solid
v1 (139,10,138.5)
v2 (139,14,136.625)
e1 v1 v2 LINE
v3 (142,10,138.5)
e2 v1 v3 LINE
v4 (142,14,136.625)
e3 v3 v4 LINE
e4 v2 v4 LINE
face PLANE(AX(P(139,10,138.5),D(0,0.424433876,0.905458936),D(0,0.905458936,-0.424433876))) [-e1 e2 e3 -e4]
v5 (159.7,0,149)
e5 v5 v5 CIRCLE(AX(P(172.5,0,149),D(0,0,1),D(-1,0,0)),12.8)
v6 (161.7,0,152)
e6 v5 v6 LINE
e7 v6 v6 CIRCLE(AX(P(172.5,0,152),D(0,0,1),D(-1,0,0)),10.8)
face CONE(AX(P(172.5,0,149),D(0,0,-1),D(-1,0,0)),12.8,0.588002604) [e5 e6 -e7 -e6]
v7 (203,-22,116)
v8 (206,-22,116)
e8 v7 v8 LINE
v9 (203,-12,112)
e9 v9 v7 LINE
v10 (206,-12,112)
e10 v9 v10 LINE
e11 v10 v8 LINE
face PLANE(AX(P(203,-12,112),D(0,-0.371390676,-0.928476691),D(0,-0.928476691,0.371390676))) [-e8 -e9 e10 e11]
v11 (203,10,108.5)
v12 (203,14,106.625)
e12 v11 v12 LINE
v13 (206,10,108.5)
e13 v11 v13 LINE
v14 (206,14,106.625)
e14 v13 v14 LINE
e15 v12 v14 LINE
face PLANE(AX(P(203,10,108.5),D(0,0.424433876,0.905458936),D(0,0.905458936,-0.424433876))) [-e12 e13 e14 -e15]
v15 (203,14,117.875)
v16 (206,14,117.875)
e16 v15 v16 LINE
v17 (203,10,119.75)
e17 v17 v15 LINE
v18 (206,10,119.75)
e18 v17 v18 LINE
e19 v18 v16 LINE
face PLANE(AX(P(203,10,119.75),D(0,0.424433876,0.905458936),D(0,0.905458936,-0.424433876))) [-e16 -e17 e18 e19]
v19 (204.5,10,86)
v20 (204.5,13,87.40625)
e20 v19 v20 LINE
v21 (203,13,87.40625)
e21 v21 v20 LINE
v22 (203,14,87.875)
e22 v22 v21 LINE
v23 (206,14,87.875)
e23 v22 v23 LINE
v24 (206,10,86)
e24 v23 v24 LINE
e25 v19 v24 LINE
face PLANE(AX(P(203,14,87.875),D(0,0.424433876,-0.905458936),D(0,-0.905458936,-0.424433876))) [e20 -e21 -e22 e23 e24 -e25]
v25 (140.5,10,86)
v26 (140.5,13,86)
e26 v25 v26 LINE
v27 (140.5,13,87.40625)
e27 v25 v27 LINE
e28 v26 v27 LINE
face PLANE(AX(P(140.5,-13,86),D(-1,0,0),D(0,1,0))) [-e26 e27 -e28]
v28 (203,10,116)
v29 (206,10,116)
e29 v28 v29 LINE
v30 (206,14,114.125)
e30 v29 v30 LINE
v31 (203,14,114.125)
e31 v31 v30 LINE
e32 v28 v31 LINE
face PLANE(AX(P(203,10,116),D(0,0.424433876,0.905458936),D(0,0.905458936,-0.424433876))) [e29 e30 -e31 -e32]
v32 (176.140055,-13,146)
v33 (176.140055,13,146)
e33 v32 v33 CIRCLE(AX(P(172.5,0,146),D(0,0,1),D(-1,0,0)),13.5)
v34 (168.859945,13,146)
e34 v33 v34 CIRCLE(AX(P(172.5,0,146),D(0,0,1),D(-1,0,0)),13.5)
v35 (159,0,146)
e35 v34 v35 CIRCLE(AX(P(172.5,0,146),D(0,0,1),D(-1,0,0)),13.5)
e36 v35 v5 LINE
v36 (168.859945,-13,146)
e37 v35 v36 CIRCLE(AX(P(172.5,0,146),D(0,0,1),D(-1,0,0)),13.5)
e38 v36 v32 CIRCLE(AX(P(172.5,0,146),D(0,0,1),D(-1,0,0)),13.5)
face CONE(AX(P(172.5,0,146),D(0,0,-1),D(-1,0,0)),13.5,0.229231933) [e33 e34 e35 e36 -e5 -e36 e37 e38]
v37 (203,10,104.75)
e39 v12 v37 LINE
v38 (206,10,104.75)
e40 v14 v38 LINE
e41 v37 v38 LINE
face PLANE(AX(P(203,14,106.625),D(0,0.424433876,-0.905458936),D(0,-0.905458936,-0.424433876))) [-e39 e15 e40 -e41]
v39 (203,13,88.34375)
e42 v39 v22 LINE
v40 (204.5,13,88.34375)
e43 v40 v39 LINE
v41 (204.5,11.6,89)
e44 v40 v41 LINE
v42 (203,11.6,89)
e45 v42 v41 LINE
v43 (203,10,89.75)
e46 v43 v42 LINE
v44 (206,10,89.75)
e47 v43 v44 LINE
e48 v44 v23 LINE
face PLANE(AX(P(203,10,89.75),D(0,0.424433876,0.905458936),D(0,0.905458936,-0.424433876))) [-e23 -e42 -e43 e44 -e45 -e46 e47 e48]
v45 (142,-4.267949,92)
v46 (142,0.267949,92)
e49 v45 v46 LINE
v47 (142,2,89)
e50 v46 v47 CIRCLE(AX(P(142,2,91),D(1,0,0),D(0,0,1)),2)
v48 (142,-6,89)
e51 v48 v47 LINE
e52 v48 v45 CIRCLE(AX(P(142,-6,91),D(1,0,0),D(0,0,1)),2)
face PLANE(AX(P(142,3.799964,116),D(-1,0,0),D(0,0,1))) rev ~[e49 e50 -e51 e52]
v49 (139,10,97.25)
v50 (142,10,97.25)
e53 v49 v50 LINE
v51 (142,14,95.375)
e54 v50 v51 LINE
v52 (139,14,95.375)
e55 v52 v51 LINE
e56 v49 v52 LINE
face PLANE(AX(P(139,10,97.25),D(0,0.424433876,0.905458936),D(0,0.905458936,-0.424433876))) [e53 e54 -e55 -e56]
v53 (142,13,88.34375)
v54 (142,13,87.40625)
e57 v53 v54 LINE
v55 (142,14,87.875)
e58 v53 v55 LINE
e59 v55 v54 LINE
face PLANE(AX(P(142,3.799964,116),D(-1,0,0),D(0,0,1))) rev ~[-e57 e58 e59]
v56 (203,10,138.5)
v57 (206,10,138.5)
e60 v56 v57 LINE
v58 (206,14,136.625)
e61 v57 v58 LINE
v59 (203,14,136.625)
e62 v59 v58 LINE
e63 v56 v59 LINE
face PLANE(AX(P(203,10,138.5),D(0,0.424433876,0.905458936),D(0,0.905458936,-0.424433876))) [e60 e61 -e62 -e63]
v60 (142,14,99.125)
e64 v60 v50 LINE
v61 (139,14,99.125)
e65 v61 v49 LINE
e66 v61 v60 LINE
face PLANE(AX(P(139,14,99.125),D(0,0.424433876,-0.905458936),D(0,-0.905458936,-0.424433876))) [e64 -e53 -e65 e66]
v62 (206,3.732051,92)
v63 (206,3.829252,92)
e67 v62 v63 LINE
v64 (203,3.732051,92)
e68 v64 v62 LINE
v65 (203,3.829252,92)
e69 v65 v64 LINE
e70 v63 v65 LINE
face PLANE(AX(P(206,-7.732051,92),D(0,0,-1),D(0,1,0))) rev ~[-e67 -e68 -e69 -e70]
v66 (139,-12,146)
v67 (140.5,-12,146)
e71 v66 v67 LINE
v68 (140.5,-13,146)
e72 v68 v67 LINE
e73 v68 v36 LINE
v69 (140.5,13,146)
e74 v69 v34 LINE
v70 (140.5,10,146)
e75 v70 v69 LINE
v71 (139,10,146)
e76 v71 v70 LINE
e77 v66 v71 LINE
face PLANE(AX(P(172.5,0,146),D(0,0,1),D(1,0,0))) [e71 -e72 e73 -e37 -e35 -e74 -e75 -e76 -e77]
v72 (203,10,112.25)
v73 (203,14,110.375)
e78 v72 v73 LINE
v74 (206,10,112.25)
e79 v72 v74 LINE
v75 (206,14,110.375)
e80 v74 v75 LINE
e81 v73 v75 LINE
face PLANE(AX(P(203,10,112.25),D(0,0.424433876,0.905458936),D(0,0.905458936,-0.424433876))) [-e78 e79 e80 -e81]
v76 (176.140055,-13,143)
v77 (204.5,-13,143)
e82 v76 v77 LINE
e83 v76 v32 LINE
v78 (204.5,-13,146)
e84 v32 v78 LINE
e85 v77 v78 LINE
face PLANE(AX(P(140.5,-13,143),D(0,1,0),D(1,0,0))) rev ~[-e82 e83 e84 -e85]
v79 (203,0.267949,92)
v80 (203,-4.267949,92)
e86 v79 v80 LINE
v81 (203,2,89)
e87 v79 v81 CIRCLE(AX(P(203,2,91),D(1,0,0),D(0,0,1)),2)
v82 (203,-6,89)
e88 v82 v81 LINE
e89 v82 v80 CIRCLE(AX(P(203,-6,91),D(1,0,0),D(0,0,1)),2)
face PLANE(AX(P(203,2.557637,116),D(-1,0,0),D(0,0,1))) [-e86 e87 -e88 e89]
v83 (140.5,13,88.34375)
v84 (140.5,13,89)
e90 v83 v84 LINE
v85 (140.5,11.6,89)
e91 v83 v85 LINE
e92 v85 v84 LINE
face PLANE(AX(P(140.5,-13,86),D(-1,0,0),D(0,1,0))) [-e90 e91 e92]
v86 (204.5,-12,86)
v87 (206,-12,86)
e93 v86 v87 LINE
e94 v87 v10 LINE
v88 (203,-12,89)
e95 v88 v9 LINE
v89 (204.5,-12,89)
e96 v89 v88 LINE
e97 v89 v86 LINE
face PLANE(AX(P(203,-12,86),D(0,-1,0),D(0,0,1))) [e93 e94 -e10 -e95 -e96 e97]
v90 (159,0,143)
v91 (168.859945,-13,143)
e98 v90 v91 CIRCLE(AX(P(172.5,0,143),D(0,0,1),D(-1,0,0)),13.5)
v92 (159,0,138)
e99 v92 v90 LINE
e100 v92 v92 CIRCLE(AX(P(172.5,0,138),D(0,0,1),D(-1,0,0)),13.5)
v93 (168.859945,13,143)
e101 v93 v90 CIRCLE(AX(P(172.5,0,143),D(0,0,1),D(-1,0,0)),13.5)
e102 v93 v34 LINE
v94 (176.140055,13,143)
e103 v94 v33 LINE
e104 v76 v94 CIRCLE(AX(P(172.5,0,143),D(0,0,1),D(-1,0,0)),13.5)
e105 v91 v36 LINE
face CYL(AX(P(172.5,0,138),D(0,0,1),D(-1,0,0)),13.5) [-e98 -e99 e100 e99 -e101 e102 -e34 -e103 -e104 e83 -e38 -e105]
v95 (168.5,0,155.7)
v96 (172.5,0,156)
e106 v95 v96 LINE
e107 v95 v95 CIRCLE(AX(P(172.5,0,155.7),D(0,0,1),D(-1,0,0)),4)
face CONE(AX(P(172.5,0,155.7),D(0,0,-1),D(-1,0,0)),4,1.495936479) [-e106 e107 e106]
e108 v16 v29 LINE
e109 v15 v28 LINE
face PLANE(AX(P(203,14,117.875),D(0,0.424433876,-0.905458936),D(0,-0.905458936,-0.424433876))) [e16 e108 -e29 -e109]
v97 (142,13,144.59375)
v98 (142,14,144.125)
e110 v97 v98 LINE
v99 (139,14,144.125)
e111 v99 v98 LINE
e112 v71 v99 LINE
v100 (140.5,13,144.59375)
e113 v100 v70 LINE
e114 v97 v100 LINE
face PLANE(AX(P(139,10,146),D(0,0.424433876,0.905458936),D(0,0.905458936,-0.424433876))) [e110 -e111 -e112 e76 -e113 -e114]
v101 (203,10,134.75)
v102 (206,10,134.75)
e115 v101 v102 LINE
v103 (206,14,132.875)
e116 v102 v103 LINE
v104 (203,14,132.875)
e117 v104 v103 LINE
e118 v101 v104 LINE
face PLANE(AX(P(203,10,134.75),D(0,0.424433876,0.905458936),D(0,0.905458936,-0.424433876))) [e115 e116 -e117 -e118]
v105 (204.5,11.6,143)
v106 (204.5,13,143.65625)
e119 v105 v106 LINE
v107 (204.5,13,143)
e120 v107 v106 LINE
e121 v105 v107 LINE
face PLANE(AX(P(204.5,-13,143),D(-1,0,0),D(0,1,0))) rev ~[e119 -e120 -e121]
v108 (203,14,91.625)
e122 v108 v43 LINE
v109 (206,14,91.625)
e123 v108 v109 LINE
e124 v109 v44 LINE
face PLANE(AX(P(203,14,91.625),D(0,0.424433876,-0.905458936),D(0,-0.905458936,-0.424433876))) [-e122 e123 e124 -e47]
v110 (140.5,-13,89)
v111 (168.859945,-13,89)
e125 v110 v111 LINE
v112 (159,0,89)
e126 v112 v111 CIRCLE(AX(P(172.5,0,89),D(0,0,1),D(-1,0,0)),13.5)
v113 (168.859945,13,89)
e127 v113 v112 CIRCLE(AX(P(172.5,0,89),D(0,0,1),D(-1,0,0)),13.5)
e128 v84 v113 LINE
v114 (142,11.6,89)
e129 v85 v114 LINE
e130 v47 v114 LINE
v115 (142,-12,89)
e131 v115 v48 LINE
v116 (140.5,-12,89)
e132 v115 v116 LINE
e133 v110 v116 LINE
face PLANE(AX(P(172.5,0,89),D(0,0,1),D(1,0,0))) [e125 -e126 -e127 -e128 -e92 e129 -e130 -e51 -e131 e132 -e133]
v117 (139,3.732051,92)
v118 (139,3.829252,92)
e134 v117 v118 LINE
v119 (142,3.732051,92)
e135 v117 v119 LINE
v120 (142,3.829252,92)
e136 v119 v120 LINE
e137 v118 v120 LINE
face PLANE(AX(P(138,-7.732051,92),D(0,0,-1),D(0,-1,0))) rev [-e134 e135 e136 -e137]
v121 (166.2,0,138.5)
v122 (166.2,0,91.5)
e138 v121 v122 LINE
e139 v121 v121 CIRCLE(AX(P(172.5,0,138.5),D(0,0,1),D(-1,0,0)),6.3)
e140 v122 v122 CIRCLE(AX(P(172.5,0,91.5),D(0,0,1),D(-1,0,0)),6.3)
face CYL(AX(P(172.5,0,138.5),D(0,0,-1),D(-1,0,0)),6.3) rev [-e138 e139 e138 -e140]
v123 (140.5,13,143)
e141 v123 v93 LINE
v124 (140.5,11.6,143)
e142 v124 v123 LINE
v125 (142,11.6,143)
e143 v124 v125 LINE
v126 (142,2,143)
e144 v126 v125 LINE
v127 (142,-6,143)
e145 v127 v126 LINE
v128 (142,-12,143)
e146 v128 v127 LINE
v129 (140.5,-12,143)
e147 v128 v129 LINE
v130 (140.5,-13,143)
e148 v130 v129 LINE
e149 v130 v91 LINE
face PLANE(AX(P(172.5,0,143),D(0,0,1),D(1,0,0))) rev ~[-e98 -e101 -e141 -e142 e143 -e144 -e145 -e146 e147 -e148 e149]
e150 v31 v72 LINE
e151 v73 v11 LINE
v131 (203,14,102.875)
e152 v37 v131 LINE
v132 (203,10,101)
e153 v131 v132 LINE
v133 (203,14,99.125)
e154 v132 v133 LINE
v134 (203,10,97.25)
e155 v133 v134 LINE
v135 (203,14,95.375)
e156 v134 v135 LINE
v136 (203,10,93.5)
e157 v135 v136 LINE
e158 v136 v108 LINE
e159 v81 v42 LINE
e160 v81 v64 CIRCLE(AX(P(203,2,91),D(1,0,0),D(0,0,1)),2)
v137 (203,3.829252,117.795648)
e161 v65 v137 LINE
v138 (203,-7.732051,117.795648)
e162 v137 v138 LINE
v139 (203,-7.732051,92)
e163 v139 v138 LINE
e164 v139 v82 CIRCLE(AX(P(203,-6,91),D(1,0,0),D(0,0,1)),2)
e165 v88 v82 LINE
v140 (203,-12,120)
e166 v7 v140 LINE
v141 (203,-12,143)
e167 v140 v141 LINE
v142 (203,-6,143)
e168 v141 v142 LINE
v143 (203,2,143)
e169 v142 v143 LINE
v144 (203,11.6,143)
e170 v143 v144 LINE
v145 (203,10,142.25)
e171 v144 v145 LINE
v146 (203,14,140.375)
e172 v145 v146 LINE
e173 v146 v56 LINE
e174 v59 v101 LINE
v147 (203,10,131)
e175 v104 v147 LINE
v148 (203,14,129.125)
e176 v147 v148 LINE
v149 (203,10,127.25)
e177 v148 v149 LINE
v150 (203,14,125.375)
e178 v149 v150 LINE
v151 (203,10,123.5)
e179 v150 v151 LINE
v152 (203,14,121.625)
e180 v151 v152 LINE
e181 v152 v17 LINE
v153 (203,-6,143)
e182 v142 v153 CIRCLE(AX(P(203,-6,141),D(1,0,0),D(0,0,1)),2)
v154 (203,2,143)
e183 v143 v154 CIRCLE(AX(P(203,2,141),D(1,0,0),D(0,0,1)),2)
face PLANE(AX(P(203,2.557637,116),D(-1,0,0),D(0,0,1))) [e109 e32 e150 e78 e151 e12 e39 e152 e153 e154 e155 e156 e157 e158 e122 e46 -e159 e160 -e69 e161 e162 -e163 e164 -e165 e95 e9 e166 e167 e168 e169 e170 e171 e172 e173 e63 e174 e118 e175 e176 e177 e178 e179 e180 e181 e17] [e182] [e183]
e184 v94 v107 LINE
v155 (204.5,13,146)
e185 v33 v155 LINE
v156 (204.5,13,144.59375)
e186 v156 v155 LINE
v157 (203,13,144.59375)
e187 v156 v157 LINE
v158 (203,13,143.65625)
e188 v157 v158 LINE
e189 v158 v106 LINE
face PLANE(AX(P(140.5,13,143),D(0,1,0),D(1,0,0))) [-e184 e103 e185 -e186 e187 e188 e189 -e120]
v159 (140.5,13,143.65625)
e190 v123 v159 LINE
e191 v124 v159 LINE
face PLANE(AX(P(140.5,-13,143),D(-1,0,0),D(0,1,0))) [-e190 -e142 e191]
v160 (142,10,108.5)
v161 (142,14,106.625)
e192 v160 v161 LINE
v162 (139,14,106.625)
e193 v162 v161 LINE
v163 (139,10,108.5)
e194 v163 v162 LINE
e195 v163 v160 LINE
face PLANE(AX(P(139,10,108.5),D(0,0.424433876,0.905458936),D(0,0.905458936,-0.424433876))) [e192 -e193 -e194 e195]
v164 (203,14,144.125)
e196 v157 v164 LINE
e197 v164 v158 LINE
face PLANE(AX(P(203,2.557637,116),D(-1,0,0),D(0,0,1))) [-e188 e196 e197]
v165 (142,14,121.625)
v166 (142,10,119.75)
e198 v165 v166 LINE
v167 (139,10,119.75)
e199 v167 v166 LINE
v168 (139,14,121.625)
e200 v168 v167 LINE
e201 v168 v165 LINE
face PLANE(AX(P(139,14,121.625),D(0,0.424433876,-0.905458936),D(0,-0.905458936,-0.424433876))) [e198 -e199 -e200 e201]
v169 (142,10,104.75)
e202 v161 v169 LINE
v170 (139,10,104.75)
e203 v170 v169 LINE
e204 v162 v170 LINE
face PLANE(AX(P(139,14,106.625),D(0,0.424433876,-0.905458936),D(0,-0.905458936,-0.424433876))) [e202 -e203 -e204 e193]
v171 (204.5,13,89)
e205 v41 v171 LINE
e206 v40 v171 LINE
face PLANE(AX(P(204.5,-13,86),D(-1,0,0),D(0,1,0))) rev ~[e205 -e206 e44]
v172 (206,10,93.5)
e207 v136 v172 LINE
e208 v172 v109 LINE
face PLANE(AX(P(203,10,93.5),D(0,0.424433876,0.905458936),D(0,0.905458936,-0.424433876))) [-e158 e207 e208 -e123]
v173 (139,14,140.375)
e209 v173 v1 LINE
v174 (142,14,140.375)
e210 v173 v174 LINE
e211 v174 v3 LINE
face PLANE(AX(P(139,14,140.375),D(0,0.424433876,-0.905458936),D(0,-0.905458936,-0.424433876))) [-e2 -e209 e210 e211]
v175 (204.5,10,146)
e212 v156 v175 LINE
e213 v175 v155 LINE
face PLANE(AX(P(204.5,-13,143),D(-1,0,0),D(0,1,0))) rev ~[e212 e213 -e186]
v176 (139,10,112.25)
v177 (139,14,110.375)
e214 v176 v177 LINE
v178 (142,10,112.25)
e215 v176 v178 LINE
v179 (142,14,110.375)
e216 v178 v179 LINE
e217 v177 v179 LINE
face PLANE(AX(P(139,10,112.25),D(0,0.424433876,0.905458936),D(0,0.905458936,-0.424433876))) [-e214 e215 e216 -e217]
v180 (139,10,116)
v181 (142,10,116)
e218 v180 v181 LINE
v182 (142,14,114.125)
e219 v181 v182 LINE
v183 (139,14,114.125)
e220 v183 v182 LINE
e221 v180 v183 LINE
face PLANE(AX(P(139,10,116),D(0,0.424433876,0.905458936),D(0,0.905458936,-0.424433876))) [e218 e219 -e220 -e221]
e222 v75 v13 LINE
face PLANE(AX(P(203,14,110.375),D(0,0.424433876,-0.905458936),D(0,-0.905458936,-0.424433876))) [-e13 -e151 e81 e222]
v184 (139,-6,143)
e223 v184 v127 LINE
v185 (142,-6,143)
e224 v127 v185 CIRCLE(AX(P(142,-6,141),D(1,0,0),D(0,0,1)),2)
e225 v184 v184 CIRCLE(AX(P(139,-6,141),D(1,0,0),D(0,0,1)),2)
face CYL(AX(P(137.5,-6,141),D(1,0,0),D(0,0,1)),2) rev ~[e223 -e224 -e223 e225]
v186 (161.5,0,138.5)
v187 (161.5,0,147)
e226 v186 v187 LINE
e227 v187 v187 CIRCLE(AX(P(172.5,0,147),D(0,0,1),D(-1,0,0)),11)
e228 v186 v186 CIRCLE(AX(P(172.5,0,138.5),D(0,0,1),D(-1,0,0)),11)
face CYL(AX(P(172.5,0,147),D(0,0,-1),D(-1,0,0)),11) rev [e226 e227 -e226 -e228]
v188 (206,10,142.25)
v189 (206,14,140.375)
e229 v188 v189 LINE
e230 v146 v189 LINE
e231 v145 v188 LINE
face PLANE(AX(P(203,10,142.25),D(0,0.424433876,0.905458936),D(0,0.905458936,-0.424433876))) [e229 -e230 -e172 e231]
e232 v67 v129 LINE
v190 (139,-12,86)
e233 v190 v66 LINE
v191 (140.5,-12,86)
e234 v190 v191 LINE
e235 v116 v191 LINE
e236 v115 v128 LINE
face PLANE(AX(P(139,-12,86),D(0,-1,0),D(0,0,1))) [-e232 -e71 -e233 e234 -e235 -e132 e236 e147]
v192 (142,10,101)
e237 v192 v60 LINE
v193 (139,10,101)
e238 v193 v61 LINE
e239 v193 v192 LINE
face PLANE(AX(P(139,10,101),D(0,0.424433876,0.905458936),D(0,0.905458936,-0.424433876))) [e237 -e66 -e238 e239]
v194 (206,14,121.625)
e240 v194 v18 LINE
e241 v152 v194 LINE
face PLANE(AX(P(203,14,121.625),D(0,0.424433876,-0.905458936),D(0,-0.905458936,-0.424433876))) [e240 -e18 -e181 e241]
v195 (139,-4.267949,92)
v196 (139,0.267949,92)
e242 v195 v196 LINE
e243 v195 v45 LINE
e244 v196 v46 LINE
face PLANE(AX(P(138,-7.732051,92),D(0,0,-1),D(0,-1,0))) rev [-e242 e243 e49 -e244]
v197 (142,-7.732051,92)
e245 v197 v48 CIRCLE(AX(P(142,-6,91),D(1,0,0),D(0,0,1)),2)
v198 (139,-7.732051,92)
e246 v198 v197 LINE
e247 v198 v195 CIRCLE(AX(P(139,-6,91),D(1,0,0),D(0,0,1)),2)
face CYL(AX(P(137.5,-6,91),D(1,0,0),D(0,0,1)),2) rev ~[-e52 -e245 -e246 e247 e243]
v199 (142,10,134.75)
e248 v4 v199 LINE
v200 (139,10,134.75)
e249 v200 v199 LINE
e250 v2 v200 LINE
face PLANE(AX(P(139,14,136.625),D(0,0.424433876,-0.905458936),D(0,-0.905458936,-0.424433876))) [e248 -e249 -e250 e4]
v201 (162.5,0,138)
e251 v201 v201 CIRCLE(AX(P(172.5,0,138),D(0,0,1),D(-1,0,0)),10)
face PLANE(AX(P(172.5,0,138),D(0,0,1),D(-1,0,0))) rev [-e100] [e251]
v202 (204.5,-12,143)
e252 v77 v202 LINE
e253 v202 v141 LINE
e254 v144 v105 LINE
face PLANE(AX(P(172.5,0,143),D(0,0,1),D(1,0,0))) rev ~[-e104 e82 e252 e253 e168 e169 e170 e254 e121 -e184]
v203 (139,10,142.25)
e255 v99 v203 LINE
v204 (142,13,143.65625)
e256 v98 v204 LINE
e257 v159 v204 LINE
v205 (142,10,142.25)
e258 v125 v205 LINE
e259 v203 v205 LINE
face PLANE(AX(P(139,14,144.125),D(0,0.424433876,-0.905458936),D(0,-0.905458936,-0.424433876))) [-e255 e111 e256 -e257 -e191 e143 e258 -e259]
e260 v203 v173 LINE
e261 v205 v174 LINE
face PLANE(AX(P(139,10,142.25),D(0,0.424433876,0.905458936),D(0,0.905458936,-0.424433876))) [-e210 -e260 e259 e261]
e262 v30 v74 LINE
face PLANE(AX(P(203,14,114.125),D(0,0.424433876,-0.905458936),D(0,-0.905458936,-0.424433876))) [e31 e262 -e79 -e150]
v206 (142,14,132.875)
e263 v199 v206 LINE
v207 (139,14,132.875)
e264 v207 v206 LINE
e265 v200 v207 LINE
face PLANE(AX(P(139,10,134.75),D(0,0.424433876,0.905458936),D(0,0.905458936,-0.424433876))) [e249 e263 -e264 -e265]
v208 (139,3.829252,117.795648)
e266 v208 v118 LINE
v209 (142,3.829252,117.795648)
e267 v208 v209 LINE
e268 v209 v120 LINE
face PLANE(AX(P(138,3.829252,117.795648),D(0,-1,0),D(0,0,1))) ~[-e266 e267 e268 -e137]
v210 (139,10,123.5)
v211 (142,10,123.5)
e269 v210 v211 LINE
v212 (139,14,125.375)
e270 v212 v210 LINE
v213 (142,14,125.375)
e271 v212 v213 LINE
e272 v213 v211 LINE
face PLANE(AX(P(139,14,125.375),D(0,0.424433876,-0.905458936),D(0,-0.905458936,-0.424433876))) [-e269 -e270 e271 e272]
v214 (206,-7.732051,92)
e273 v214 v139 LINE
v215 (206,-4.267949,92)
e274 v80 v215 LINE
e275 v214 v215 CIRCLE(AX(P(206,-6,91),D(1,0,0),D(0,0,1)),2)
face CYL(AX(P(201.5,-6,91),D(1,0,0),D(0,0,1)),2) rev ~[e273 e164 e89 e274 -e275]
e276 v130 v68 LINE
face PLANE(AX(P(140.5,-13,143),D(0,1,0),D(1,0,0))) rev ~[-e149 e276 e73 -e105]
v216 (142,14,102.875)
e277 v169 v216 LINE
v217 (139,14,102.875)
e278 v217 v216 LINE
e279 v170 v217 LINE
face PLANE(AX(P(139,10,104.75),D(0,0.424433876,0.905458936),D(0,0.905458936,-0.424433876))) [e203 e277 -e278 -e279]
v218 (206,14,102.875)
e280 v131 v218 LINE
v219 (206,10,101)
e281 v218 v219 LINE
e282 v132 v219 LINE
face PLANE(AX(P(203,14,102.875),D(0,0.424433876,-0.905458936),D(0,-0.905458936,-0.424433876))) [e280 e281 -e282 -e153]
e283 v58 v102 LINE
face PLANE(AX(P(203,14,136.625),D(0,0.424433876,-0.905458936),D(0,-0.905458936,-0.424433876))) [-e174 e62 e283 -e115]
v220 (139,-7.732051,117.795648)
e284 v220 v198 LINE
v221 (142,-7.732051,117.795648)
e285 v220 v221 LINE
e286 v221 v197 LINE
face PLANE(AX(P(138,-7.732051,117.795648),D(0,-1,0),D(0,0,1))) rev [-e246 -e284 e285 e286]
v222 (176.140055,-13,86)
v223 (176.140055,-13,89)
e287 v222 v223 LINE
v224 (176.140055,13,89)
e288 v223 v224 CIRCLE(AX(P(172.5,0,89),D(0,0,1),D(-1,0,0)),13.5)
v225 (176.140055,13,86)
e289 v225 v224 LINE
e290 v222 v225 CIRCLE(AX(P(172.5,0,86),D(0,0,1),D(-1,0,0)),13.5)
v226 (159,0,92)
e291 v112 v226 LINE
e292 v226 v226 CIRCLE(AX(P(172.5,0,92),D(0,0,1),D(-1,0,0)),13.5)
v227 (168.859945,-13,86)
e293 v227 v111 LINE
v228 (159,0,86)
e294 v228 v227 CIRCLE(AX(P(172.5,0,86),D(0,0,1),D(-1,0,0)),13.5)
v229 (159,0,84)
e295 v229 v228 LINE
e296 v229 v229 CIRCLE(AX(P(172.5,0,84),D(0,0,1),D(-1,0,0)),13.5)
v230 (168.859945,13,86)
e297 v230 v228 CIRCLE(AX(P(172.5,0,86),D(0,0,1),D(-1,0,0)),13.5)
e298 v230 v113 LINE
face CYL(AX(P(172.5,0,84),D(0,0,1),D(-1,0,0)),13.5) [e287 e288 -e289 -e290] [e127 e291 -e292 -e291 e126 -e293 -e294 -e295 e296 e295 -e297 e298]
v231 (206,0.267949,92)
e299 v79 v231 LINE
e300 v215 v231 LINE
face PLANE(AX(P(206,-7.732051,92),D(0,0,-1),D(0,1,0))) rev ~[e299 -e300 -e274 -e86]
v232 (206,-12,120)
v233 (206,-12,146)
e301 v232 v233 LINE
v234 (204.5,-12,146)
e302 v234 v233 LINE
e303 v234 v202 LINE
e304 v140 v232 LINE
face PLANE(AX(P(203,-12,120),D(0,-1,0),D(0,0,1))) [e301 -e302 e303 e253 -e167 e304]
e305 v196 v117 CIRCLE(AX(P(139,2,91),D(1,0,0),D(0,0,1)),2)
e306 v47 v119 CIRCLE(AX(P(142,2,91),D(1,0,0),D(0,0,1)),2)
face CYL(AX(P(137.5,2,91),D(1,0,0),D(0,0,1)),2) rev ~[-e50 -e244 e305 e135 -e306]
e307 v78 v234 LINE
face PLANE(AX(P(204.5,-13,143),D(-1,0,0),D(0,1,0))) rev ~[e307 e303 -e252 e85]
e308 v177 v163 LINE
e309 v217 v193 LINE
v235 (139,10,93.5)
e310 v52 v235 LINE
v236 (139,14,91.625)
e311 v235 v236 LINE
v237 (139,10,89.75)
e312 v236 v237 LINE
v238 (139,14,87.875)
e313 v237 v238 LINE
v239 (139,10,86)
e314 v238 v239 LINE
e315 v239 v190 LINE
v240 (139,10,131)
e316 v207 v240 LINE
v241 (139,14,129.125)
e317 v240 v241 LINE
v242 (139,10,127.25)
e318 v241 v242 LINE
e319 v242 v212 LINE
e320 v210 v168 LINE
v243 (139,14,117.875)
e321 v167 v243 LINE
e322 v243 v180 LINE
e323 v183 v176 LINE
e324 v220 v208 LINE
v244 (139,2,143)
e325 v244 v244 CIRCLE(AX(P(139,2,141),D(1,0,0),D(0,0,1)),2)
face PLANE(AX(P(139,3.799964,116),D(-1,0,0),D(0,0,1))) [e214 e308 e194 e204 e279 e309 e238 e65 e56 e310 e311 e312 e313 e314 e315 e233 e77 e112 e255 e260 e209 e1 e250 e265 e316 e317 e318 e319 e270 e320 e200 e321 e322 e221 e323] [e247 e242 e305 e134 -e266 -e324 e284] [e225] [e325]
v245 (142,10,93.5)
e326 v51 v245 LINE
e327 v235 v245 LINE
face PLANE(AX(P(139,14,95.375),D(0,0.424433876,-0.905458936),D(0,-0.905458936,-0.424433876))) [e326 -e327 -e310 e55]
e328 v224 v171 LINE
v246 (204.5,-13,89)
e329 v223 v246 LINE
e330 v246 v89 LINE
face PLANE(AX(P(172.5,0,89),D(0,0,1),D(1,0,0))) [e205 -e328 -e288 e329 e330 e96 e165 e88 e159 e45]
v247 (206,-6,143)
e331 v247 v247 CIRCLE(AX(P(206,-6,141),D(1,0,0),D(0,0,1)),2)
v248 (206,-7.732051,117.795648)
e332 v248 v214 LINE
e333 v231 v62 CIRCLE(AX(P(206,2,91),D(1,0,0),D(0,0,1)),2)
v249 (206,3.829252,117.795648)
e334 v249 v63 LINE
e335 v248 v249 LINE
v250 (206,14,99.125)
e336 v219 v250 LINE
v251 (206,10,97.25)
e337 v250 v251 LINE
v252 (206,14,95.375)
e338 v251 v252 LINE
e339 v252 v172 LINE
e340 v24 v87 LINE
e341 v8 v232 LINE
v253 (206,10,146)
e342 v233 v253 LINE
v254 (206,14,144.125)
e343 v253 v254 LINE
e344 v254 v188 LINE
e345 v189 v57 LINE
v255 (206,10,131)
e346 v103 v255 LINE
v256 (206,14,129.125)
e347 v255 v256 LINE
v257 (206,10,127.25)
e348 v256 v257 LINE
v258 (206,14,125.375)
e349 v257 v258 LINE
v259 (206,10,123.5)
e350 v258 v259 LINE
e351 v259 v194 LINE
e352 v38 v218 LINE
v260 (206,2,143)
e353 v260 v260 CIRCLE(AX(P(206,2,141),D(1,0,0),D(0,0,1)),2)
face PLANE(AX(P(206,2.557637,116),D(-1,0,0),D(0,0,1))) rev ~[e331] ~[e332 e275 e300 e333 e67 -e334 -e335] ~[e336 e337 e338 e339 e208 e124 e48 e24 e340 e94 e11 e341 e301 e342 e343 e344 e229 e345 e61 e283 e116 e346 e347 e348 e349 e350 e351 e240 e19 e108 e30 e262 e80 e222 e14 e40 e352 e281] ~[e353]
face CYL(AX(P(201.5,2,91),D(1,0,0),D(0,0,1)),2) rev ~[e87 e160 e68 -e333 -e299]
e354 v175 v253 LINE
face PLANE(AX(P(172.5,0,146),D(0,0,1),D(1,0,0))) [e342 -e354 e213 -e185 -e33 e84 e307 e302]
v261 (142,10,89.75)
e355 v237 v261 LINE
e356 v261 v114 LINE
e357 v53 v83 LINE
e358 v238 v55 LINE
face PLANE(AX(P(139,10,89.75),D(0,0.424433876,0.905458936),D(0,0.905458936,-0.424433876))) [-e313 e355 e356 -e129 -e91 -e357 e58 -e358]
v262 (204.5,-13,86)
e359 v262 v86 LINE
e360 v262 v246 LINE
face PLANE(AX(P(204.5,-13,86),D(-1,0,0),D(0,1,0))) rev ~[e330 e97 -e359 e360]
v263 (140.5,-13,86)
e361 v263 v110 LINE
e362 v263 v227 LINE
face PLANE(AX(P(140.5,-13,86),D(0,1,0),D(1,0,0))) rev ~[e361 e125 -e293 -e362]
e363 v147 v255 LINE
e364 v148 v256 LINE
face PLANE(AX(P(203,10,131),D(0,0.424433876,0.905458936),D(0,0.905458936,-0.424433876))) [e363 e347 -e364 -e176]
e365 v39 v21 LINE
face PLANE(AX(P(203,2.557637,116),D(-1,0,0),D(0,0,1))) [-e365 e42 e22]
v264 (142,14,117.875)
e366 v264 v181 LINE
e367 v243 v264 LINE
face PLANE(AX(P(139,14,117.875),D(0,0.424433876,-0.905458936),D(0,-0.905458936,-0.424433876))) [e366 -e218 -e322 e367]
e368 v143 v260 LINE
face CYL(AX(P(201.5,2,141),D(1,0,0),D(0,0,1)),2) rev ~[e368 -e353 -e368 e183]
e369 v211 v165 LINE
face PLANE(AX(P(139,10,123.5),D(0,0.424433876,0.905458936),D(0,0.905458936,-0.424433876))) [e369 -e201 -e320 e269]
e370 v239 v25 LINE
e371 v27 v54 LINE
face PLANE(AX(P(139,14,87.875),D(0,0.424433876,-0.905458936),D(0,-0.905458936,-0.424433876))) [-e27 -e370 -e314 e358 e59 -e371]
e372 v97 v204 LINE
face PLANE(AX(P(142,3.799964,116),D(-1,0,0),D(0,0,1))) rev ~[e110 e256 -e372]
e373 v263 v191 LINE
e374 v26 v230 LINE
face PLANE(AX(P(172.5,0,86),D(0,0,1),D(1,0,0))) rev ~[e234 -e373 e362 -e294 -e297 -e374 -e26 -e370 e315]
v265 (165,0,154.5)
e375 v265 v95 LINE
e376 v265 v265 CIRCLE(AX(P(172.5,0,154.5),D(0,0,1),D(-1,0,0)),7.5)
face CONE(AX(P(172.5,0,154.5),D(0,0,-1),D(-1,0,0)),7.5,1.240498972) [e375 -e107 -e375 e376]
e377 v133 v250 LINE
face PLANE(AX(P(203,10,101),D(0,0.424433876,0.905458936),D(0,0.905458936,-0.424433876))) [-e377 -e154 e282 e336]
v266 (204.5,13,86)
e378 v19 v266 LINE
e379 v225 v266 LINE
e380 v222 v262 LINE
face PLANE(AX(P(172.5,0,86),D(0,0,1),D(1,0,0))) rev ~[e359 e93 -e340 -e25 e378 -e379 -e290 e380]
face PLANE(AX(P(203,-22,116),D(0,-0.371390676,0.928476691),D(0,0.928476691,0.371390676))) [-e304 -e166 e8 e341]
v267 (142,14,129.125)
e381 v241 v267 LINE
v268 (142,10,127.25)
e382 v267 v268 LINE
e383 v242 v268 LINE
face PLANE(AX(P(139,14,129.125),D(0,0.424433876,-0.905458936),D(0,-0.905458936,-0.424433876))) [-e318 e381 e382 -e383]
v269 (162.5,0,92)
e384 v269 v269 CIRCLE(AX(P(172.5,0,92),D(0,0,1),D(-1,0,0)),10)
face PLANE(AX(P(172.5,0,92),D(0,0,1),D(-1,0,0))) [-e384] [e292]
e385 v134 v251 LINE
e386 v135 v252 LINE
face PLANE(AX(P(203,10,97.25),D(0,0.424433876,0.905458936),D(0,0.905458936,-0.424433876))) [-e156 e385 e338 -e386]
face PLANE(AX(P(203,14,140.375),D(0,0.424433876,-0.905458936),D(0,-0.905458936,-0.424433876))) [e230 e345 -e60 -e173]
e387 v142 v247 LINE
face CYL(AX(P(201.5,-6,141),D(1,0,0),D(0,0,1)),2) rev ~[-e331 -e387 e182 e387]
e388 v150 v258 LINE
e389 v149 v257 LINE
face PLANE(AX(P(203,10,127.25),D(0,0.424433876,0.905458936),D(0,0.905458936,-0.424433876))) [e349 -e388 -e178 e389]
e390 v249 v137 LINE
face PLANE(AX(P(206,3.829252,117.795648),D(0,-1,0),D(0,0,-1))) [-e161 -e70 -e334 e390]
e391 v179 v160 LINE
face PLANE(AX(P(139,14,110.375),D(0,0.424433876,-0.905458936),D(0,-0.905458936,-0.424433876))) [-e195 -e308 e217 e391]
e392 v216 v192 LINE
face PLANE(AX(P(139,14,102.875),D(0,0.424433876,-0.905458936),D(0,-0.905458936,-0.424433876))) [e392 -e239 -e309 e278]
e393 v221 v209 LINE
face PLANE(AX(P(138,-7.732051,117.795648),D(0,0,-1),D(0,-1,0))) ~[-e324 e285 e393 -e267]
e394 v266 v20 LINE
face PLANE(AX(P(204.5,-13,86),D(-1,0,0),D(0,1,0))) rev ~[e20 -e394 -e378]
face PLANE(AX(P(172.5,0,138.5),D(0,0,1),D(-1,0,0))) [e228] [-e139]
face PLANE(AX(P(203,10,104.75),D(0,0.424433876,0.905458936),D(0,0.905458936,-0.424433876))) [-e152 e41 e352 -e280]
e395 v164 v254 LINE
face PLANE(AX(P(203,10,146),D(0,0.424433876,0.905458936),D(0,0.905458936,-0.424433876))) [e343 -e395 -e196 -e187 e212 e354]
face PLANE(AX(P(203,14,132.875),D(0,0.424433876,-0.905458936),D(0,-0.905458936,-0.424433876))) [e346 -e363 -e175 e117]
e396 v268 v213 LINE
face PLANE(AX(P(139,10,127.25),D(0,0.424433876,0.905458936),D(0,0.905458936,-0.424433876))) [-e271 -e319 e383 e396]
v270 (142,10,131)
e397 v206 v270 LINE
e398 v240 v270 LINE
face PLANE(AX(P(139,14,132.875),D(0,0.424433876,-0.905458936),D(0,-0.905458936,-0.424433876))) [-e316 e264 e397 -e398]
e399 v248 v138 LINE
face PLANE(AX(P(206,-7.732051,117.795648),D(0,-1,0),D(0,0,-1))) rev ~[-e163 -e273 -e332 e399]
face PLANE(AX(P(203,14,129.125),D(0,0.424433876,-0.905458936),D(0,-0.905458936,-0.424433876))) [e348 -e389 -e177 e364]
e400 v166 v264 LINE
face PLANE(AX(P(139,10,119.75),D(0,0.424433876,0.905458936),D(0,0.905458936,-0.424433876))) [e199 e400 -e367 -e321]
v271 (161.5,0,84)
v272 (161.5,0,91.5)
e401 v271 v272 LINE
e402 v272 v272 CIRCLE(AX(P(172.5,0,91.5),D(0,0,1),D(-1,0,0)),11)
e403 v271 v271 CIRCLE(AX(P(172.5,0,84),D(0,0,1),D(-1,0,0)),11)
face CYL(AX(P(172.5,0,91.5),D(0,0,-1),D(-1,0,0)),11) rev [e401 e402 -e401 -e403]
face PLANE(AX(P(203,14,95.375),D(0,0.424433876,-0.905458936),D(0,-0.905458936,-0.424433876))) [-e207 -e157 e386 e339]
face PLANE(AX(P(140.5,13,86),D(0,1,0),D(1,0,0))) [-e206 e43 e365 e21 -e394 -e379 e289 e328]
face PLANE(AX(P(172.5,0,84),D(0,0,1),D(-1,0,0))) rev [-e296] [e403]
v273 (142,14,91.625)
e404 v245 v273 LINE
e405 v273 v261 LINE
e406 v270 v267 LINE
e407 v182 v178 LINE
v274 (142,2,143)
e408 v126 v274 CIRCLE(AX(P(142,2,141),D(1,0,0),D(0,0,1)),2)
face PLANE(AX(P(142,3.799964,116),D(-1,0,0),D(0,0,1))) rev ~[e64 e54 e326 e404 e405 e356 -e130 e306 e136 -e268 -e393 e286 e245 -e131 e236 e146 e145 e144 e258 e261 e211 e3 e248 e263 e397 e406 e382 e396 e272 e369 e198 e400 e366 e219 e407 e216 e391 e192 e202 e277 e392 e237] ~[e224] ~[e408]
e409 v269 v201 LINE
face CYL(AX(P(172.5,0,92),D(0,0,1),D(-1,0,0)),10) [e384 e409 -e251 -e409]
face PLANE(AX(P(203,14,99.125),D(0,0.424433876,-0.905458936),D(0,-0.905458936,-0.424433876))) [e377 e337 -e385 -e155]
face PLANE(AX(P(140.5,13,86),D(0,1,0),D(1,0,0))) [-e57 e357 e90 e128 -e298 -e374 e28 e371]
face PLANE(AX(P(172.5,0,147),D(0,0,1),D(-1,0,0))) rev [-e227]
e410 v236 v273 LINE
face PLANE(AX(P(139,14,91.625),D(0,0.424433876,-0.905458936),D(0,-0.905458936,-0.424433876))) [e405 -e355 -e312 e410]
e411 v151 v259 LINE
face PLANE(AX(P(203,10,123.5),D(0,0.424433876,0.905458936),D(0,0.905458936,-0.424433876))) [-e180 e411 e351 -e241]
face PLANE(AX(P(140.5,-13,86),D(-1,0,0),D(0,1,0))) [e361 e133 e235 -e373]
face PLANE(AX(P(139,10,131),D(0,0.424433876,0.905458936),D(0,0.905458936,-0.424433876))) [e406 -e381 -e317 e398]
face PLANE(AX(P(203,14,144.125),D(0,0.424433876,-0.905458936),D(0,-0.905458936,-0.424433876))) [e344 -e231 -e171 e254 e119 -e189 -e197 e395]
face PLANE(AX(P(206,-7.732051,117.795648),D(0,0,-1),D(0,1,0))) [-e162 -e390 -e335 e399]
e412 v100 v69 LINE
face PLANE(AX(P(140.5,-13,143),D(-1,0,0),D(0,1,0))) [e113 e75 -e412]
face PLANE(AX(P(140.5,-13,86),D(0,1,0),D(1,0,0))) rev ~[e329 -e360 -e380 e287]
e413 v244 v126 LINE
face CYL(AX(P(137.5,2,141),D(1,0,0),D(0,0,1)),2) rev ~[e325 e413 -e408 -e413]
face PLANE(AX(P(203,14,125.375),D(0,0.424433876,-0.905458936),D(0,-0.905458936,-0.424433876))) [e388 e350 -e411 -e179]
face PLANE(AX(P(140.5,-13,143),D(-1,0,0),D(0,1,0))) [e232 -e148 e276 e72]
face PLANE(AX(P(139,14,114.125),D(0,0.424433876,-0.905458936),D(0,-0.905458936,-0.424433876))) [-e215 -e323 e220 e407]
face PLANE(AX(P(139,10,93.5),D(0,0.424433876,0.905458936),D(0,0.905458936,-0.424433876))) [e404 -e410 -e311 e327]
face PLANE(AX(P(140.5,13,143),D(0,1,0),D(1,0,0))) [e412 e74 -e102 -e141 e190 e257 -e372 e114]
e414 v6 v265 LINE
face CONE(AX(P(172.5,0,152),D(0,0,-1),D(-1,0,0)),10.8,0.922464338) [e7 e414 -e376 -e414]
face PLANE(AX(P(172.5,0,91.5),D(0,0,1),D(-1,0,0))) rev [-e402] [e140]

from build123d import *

# Parameters (mm, degrees)
PLACA_DELANTERA_START               = 203
PLACA_DELANTERA_DEPTH               = 3
AGUJERO_PLACA_DELANTERA_1_PROFILE_R = 2
AGUJERO_PLACA_DELANTERA_2_PROFILE_R = 2
AGUJERO_PLACA_DELANTERA_3_PROFILE_R = 2
AGUJERO_PLACA_DELANTERA_4_PROFILE_R = 2
PLACA_TRASERA_START                 = 139
PLACA_TRASERA_DEPTH                 = 3
AGUJERO_PLACA_TRASERA_1_PROFILE_R   = 2
AGUJERO_PLACA_TRASERA_2_PROFILE_R   = 2
AGUJERO_PLACA_TRASERA_3_PROFILE_R   = 2
AGUJERO_PLACA_TRASERA_4_PROFILE_R   = 2
MARCO_INTERIOR_START                = 86
SK_MARCO_INTERIOR_W                 = 64
SK_MARCO_INTERIOR_H                 = 26
SK_MARCO_INTERIOR_R                 = 11
MARCO_INTERIOR_DEPTH                = 3
MARCO_EXTERIOR_START                = 143
SK_MARCO_EXTERIOR_W                 = 64
SK_MARCO_EXTERIOR_H                 = 26
SK_MARCO_EXTERIOR_R                 = 11
MARCO_EXTERIOR_DEPTH                = 3
CROQUIS17_W                         = 25.795648089
CROQUIS17_H                         = 11.561302328
CORTAR_EXTRUIR1_DEPTH               = 10


with BuildPart() as part:
    # Sk_Eje_cuerpo → Eje_cuerpo (revolve)
    with BuildSketch(Plane(origin=(0, 0, 0), x_dir=(1, 0, 0), z_dir=(0, 1, 0))):
        Polygon((183.5, -84), (186, -84), (186, -92), (182.5, -92), (182.5, -138), (186, -138), (186, -146), (185.3, -149), (183.3, -152), (180, -154.5), (176.5, -155.7), (172.5, -156), (172.5, -147), (183.5, -147), (183.5, -138.5), (178.8, -138.5), (178.8, -91.5), (183.5, -91.5), align=None)
    revolve(axis=Axis((172.5, 0, 62.1), (0, 0, 1)))



with BuildPart() as body_2:
    # Sk_Placa_delantera → Placa_delantera (new body)
    with BuildSketch(Plane(origin=(0, 0, 0), x_dir=(0, 0, -1), z_dir=(1, 0, 0)).offset(PLACA_DELANTERA_START)):
        Polygon((-86, -12), (-112, -12), (-116, -22), (-120, -12), (-146, -12), (-146, 10), (-144.125, 14), (-142.25, 10), (-140.375, 14), (-138.5, 10), (-136.625, 14), (-134.75, 10), (-132.875, 14), (-131, 10), (-129.125, 14), (-127.25, 10), (-125.375, 14), (-123.5, 10), (-121.625, 14), (-119.75, 10), (-117.875, 14), (-116, 10), (-114.125, 14), (-112.25, 10), (-110.375, 14), (-108.5, 10), (-106.625, 14), (-104.75, 10), (-102.875, 14), (-101, 10), (-99.125, 14), (-97.25, 10), (-95.375, 14), (-93.5, 10), (-91.625, 14), (-89.75, 10), (-87.875, 14), (-86, 10), align=None)
    extrude(amount=PLACA_DELANTERA_DEPTH)

    # Agujero_Placa_delantera_1: sweep along a curve in space
    with BuildLine() as agujero_placa_delantera_1_path:
        Line((201.5, -6, 91), (207.5, -6, 91))
    # Agujero_Placa_delantera_1 profile (on start of the path) → Agujero_Placa_delantera_1 (sweep, cut)
    with BuildSketch(Plane(origin=(201.5, -6, 91), x_dir=(0, 0, 1), z_dir=(1, 0, 0))):
        Circle(AGUJERO_PLACA_DELANTERA_1_PROFILE_R)
    sweep(path=agujero_placa_delantera_1_path.line, mode=Mode.SUBTRACT)

    # Agujero_Placa_delantera_2: sweep along a curve in space
    with BuildLine() as agujero_placa_delantera_2_path:
        Line((201.5, 2, 91), (207.5, 2, 91))
    # Agujero_Placa_delantera_2 profile (on start of the path) → Agujero_Placa_delantera_2 (sweep, cut)
    with BuildSketch(Plane(origin=(201.5, 2, 91), x_dir=(0, 0, 1), z_dir=(1, 0, 0))):
        Circle(AGUJERO_PLACA_DELANTERA_2_PROFILE_R)
    sweep(path=agujero_placa_delantera_2_path.line, mode=Mode.SUBTRACT)

    # Agujero_Placa_delantera_3: sweep along a curve in space
    with BuildLine() as agujero_placa_delantera_3_path:
        Line((201.5, -6, 141), (207.5, -6, 141))
    # Agujero_Placa_delantera_3 profile (on start of the path) → Agujero_Placa_delantera_3 (sweep, cut)
    with BuildSketch(Plane(origin=(201.5, -6, 141), x_dir=(0, 0, 1), z_dir=(1, 0, 0))):
        Circle(AGUJERO_PLACA_DELANTERA_3_PROFILE_R)
    sweep(path=agujero_placa_delantera_3_path.line, mode=Mode.SUBTRACT)

    # Agujero_Placa_delantera_4: sweep along a curve in space
    with BuildLine() as agujero_placa_delantera_4_path:
        Line((201.5, 2, 141), (207.5, 2, 141))
    # Agujero_Placa_delantera_4 profile (on start of the path) → Agujero_Placa_delantera_4 (sweep, cut)
    with BuildSketch(Plane(origin=(201.5, 2, 141), x_dir=(0, 0, 1), z_dir=(1, 0, 0))):
        Circle(AGUJERO_PLACA_DELANTERA_4_PROFILE_R)
    sweep(path=agujero_placa_delantera_4_path.line, mode=Mode.SUBTRACT)


with BuildPart() as body_3:
    # Sk_Placa_trasera → Placa_trasera (new body)
    with BuildSketch(Plane(origin=(0, 0, 0), x_dir=(0, 0, -1), z_dir=(1, 0, 0)).offset(PLACA_TRASERA_START)):
        Polygon((-86, -12), (-146, -12), (-146, 10), (-144.125, 14), (-142.25, 10), (-140.375, 14), (-138.5, 10), (-136.625, 14), (-134.75, 10), (-132.875, 14), (-131, 10), (-129.125, 14), (-127.25, 10), (-125.375, 14), (-123.5, 10), (-121.625, 14), (-119.75, 10), (-117.875, 14), (-116, 10), (-114.125, 14), (-112.25, 10), (-110.375, 14), (-108.5, 10), (-106.625, 14), (-104.75, 10), (-102.875, 14), (-101, 10), (-99.125, 14), (-97.25, 10), (-95.375, 14), (-93.5, 10), (-91.625, 14), (-89.75, 10), (-87.875, 14), (-86, 10), align=None)
    extrude(amount=PLACA_TRASERA_DEPTH)

    # Agujero_Placa_trasera_1: sweep along a curve in space
    with BuildLine() as agujero_placa_trasera_1_path:
        Line((137.5, -6, 91), (143.5, -6, 91))
    # Agujero_Placa_trasera_1 profile (on start of the path) → Agujero_Placa_trasera_1 (sweep, cut)
    with BuildSketch(Plane(origin=(137.5, -6, 91), x_dir=(0, 0, 1), z_dir=(1, 0, 0))):
        Circle(AGUJERO_PLACA_TRASERA_1_PROFILE_R)
    sweep(path=agujero_placa_trasera_1_path.line, mode=Mode.SUBTRACT)

    # Agujero_Placa_trasera_2: sweep along a curve in space
    with BuildLine() as agujero_placa_trasera_2_path:
        Line((137.5, 2, 91), (143.5, 2, 91))
    # Agujero_Placa_trasera_2 profile (on start of the path) → Agujero_Placa_trasera_2 (sweep, cut)
    with BuildSketch(Plane(origin=(137.5, 2, 91), x_dir=(0, 0, 1), z_dir=(1, 0, 0))):
        Circle(AGUJERO_PLACA_TRASERA_2_PROFILE_R)
    sweep(path=agujero_placa_trasera_2_path.line, mode=Mode.SUBTRACT)

    # Agujero_Placa_trasera_3: sweep along a curve in space
    with BuildLine() as agujero_placa_trasera_3_path:
        Line((137.5, -6, 141), (143.5, -6, 141))
    # Agujero_Placa_trasera_3 profile (on start of the path) → Agujero_Placa_trasera_3 (sweep, cut)
    with BuildSketch(Plane(origin=(137.5, -6, 141), x_dir=(0, 0, 1), z_dir=(1, 0, 0))):
        Circle(AGUJERO_PLACA_TRASERA_3_PROFILE_R)
    sweep(path=agujero_placa_trasera_3_path.line, mode=Mode.SUBTRACT)

    # Agujero_Placa_trasera_4: sweep along a curve in space
    with BuildLine() as agujero_placa_trasera_4_path:
        Line((137.5, 2, 141), (143.5, 2, 141))
    # Agujero_Placa_trasera_4 profile (on start of the path) → Agujero_Placa_trasera_4 (sweep, cut)
    with BuildSketch(Plane(origin=(137.5, 2, 141), x_dir=(0, 0, 1), z_dir=(1, 0, 0))):
        Circle(AGUJERO_PLACA_TRASERA_4_PROFILE_R)
    sweep(path=agujero_placa_trasera_4_path.line, mode=Mode.SUBTRACT)


with BuildPart() as part_1:
    add(part.part)

    add(body_2.part)  # Marco_interior merges body 2

    add(body_3.part)  # Marco_interior merges body 3
    # Sk_Marco_interior → Marco_interior (add)
    with BuildSketch(Plane.XY.offset(MARCO_INTERIOR_START)):
        with Locations((172.5, 0)):
            Rectangle(SK_MARCO_INTERIOR_W, SK_MARCO_INTERIOR_H)
        with Locations((172.5, 0)):
            Circle(SK_MARCO_INTERIOR_R, mode=Mode.SUBTRACT)
    extrude(amount=MARCO_INTERIOR_DEPTH)

    # Sk_Marco_exterior → Marco_exterior (add)
    with BuildSketch(Plane.XY.offset(MARCO_EXTERIOR_START)):
        with Locations((172.5, 0)):
            Rectangle(SK_MARCO_EXTERIOR_W, SK_MARCO_EXTERIOR_H)
        with Locations((172.5, 0)):
            Circle(SK_MARCO_EXTERIOR_R, mode=Mode.SUBTRACT)
    extrude(amount=MARCO_EXTERIOR_DEPTH)

    # Croquis17 → Cortar-Extruir1 (cut)
    with BuildSketch(Plane(origin=(206, 0, 0), x_dir=(0, 0, -1), z_dir=(1, 0, 0))):
        with Locations((-104.897824044, -1.951399644)):
            Rectangle(CROQUIS17_W, CROQUIS17_H)
    cortar_extruir1 = extrude(amount=-CORTAR_EXTRUIR1_DEPTH, mode=Mode.SUBTRACT)

    # Simetría1: Cortar-Extruir1 across plane
    add(cortar_extruir1.mirror(Plane(origin=(172, 0, 0), x_dir=(0, 0, 1), z_dir=(1, 0, 0))), mode=Mode.SUBTRACT)


solid = part_1.part
